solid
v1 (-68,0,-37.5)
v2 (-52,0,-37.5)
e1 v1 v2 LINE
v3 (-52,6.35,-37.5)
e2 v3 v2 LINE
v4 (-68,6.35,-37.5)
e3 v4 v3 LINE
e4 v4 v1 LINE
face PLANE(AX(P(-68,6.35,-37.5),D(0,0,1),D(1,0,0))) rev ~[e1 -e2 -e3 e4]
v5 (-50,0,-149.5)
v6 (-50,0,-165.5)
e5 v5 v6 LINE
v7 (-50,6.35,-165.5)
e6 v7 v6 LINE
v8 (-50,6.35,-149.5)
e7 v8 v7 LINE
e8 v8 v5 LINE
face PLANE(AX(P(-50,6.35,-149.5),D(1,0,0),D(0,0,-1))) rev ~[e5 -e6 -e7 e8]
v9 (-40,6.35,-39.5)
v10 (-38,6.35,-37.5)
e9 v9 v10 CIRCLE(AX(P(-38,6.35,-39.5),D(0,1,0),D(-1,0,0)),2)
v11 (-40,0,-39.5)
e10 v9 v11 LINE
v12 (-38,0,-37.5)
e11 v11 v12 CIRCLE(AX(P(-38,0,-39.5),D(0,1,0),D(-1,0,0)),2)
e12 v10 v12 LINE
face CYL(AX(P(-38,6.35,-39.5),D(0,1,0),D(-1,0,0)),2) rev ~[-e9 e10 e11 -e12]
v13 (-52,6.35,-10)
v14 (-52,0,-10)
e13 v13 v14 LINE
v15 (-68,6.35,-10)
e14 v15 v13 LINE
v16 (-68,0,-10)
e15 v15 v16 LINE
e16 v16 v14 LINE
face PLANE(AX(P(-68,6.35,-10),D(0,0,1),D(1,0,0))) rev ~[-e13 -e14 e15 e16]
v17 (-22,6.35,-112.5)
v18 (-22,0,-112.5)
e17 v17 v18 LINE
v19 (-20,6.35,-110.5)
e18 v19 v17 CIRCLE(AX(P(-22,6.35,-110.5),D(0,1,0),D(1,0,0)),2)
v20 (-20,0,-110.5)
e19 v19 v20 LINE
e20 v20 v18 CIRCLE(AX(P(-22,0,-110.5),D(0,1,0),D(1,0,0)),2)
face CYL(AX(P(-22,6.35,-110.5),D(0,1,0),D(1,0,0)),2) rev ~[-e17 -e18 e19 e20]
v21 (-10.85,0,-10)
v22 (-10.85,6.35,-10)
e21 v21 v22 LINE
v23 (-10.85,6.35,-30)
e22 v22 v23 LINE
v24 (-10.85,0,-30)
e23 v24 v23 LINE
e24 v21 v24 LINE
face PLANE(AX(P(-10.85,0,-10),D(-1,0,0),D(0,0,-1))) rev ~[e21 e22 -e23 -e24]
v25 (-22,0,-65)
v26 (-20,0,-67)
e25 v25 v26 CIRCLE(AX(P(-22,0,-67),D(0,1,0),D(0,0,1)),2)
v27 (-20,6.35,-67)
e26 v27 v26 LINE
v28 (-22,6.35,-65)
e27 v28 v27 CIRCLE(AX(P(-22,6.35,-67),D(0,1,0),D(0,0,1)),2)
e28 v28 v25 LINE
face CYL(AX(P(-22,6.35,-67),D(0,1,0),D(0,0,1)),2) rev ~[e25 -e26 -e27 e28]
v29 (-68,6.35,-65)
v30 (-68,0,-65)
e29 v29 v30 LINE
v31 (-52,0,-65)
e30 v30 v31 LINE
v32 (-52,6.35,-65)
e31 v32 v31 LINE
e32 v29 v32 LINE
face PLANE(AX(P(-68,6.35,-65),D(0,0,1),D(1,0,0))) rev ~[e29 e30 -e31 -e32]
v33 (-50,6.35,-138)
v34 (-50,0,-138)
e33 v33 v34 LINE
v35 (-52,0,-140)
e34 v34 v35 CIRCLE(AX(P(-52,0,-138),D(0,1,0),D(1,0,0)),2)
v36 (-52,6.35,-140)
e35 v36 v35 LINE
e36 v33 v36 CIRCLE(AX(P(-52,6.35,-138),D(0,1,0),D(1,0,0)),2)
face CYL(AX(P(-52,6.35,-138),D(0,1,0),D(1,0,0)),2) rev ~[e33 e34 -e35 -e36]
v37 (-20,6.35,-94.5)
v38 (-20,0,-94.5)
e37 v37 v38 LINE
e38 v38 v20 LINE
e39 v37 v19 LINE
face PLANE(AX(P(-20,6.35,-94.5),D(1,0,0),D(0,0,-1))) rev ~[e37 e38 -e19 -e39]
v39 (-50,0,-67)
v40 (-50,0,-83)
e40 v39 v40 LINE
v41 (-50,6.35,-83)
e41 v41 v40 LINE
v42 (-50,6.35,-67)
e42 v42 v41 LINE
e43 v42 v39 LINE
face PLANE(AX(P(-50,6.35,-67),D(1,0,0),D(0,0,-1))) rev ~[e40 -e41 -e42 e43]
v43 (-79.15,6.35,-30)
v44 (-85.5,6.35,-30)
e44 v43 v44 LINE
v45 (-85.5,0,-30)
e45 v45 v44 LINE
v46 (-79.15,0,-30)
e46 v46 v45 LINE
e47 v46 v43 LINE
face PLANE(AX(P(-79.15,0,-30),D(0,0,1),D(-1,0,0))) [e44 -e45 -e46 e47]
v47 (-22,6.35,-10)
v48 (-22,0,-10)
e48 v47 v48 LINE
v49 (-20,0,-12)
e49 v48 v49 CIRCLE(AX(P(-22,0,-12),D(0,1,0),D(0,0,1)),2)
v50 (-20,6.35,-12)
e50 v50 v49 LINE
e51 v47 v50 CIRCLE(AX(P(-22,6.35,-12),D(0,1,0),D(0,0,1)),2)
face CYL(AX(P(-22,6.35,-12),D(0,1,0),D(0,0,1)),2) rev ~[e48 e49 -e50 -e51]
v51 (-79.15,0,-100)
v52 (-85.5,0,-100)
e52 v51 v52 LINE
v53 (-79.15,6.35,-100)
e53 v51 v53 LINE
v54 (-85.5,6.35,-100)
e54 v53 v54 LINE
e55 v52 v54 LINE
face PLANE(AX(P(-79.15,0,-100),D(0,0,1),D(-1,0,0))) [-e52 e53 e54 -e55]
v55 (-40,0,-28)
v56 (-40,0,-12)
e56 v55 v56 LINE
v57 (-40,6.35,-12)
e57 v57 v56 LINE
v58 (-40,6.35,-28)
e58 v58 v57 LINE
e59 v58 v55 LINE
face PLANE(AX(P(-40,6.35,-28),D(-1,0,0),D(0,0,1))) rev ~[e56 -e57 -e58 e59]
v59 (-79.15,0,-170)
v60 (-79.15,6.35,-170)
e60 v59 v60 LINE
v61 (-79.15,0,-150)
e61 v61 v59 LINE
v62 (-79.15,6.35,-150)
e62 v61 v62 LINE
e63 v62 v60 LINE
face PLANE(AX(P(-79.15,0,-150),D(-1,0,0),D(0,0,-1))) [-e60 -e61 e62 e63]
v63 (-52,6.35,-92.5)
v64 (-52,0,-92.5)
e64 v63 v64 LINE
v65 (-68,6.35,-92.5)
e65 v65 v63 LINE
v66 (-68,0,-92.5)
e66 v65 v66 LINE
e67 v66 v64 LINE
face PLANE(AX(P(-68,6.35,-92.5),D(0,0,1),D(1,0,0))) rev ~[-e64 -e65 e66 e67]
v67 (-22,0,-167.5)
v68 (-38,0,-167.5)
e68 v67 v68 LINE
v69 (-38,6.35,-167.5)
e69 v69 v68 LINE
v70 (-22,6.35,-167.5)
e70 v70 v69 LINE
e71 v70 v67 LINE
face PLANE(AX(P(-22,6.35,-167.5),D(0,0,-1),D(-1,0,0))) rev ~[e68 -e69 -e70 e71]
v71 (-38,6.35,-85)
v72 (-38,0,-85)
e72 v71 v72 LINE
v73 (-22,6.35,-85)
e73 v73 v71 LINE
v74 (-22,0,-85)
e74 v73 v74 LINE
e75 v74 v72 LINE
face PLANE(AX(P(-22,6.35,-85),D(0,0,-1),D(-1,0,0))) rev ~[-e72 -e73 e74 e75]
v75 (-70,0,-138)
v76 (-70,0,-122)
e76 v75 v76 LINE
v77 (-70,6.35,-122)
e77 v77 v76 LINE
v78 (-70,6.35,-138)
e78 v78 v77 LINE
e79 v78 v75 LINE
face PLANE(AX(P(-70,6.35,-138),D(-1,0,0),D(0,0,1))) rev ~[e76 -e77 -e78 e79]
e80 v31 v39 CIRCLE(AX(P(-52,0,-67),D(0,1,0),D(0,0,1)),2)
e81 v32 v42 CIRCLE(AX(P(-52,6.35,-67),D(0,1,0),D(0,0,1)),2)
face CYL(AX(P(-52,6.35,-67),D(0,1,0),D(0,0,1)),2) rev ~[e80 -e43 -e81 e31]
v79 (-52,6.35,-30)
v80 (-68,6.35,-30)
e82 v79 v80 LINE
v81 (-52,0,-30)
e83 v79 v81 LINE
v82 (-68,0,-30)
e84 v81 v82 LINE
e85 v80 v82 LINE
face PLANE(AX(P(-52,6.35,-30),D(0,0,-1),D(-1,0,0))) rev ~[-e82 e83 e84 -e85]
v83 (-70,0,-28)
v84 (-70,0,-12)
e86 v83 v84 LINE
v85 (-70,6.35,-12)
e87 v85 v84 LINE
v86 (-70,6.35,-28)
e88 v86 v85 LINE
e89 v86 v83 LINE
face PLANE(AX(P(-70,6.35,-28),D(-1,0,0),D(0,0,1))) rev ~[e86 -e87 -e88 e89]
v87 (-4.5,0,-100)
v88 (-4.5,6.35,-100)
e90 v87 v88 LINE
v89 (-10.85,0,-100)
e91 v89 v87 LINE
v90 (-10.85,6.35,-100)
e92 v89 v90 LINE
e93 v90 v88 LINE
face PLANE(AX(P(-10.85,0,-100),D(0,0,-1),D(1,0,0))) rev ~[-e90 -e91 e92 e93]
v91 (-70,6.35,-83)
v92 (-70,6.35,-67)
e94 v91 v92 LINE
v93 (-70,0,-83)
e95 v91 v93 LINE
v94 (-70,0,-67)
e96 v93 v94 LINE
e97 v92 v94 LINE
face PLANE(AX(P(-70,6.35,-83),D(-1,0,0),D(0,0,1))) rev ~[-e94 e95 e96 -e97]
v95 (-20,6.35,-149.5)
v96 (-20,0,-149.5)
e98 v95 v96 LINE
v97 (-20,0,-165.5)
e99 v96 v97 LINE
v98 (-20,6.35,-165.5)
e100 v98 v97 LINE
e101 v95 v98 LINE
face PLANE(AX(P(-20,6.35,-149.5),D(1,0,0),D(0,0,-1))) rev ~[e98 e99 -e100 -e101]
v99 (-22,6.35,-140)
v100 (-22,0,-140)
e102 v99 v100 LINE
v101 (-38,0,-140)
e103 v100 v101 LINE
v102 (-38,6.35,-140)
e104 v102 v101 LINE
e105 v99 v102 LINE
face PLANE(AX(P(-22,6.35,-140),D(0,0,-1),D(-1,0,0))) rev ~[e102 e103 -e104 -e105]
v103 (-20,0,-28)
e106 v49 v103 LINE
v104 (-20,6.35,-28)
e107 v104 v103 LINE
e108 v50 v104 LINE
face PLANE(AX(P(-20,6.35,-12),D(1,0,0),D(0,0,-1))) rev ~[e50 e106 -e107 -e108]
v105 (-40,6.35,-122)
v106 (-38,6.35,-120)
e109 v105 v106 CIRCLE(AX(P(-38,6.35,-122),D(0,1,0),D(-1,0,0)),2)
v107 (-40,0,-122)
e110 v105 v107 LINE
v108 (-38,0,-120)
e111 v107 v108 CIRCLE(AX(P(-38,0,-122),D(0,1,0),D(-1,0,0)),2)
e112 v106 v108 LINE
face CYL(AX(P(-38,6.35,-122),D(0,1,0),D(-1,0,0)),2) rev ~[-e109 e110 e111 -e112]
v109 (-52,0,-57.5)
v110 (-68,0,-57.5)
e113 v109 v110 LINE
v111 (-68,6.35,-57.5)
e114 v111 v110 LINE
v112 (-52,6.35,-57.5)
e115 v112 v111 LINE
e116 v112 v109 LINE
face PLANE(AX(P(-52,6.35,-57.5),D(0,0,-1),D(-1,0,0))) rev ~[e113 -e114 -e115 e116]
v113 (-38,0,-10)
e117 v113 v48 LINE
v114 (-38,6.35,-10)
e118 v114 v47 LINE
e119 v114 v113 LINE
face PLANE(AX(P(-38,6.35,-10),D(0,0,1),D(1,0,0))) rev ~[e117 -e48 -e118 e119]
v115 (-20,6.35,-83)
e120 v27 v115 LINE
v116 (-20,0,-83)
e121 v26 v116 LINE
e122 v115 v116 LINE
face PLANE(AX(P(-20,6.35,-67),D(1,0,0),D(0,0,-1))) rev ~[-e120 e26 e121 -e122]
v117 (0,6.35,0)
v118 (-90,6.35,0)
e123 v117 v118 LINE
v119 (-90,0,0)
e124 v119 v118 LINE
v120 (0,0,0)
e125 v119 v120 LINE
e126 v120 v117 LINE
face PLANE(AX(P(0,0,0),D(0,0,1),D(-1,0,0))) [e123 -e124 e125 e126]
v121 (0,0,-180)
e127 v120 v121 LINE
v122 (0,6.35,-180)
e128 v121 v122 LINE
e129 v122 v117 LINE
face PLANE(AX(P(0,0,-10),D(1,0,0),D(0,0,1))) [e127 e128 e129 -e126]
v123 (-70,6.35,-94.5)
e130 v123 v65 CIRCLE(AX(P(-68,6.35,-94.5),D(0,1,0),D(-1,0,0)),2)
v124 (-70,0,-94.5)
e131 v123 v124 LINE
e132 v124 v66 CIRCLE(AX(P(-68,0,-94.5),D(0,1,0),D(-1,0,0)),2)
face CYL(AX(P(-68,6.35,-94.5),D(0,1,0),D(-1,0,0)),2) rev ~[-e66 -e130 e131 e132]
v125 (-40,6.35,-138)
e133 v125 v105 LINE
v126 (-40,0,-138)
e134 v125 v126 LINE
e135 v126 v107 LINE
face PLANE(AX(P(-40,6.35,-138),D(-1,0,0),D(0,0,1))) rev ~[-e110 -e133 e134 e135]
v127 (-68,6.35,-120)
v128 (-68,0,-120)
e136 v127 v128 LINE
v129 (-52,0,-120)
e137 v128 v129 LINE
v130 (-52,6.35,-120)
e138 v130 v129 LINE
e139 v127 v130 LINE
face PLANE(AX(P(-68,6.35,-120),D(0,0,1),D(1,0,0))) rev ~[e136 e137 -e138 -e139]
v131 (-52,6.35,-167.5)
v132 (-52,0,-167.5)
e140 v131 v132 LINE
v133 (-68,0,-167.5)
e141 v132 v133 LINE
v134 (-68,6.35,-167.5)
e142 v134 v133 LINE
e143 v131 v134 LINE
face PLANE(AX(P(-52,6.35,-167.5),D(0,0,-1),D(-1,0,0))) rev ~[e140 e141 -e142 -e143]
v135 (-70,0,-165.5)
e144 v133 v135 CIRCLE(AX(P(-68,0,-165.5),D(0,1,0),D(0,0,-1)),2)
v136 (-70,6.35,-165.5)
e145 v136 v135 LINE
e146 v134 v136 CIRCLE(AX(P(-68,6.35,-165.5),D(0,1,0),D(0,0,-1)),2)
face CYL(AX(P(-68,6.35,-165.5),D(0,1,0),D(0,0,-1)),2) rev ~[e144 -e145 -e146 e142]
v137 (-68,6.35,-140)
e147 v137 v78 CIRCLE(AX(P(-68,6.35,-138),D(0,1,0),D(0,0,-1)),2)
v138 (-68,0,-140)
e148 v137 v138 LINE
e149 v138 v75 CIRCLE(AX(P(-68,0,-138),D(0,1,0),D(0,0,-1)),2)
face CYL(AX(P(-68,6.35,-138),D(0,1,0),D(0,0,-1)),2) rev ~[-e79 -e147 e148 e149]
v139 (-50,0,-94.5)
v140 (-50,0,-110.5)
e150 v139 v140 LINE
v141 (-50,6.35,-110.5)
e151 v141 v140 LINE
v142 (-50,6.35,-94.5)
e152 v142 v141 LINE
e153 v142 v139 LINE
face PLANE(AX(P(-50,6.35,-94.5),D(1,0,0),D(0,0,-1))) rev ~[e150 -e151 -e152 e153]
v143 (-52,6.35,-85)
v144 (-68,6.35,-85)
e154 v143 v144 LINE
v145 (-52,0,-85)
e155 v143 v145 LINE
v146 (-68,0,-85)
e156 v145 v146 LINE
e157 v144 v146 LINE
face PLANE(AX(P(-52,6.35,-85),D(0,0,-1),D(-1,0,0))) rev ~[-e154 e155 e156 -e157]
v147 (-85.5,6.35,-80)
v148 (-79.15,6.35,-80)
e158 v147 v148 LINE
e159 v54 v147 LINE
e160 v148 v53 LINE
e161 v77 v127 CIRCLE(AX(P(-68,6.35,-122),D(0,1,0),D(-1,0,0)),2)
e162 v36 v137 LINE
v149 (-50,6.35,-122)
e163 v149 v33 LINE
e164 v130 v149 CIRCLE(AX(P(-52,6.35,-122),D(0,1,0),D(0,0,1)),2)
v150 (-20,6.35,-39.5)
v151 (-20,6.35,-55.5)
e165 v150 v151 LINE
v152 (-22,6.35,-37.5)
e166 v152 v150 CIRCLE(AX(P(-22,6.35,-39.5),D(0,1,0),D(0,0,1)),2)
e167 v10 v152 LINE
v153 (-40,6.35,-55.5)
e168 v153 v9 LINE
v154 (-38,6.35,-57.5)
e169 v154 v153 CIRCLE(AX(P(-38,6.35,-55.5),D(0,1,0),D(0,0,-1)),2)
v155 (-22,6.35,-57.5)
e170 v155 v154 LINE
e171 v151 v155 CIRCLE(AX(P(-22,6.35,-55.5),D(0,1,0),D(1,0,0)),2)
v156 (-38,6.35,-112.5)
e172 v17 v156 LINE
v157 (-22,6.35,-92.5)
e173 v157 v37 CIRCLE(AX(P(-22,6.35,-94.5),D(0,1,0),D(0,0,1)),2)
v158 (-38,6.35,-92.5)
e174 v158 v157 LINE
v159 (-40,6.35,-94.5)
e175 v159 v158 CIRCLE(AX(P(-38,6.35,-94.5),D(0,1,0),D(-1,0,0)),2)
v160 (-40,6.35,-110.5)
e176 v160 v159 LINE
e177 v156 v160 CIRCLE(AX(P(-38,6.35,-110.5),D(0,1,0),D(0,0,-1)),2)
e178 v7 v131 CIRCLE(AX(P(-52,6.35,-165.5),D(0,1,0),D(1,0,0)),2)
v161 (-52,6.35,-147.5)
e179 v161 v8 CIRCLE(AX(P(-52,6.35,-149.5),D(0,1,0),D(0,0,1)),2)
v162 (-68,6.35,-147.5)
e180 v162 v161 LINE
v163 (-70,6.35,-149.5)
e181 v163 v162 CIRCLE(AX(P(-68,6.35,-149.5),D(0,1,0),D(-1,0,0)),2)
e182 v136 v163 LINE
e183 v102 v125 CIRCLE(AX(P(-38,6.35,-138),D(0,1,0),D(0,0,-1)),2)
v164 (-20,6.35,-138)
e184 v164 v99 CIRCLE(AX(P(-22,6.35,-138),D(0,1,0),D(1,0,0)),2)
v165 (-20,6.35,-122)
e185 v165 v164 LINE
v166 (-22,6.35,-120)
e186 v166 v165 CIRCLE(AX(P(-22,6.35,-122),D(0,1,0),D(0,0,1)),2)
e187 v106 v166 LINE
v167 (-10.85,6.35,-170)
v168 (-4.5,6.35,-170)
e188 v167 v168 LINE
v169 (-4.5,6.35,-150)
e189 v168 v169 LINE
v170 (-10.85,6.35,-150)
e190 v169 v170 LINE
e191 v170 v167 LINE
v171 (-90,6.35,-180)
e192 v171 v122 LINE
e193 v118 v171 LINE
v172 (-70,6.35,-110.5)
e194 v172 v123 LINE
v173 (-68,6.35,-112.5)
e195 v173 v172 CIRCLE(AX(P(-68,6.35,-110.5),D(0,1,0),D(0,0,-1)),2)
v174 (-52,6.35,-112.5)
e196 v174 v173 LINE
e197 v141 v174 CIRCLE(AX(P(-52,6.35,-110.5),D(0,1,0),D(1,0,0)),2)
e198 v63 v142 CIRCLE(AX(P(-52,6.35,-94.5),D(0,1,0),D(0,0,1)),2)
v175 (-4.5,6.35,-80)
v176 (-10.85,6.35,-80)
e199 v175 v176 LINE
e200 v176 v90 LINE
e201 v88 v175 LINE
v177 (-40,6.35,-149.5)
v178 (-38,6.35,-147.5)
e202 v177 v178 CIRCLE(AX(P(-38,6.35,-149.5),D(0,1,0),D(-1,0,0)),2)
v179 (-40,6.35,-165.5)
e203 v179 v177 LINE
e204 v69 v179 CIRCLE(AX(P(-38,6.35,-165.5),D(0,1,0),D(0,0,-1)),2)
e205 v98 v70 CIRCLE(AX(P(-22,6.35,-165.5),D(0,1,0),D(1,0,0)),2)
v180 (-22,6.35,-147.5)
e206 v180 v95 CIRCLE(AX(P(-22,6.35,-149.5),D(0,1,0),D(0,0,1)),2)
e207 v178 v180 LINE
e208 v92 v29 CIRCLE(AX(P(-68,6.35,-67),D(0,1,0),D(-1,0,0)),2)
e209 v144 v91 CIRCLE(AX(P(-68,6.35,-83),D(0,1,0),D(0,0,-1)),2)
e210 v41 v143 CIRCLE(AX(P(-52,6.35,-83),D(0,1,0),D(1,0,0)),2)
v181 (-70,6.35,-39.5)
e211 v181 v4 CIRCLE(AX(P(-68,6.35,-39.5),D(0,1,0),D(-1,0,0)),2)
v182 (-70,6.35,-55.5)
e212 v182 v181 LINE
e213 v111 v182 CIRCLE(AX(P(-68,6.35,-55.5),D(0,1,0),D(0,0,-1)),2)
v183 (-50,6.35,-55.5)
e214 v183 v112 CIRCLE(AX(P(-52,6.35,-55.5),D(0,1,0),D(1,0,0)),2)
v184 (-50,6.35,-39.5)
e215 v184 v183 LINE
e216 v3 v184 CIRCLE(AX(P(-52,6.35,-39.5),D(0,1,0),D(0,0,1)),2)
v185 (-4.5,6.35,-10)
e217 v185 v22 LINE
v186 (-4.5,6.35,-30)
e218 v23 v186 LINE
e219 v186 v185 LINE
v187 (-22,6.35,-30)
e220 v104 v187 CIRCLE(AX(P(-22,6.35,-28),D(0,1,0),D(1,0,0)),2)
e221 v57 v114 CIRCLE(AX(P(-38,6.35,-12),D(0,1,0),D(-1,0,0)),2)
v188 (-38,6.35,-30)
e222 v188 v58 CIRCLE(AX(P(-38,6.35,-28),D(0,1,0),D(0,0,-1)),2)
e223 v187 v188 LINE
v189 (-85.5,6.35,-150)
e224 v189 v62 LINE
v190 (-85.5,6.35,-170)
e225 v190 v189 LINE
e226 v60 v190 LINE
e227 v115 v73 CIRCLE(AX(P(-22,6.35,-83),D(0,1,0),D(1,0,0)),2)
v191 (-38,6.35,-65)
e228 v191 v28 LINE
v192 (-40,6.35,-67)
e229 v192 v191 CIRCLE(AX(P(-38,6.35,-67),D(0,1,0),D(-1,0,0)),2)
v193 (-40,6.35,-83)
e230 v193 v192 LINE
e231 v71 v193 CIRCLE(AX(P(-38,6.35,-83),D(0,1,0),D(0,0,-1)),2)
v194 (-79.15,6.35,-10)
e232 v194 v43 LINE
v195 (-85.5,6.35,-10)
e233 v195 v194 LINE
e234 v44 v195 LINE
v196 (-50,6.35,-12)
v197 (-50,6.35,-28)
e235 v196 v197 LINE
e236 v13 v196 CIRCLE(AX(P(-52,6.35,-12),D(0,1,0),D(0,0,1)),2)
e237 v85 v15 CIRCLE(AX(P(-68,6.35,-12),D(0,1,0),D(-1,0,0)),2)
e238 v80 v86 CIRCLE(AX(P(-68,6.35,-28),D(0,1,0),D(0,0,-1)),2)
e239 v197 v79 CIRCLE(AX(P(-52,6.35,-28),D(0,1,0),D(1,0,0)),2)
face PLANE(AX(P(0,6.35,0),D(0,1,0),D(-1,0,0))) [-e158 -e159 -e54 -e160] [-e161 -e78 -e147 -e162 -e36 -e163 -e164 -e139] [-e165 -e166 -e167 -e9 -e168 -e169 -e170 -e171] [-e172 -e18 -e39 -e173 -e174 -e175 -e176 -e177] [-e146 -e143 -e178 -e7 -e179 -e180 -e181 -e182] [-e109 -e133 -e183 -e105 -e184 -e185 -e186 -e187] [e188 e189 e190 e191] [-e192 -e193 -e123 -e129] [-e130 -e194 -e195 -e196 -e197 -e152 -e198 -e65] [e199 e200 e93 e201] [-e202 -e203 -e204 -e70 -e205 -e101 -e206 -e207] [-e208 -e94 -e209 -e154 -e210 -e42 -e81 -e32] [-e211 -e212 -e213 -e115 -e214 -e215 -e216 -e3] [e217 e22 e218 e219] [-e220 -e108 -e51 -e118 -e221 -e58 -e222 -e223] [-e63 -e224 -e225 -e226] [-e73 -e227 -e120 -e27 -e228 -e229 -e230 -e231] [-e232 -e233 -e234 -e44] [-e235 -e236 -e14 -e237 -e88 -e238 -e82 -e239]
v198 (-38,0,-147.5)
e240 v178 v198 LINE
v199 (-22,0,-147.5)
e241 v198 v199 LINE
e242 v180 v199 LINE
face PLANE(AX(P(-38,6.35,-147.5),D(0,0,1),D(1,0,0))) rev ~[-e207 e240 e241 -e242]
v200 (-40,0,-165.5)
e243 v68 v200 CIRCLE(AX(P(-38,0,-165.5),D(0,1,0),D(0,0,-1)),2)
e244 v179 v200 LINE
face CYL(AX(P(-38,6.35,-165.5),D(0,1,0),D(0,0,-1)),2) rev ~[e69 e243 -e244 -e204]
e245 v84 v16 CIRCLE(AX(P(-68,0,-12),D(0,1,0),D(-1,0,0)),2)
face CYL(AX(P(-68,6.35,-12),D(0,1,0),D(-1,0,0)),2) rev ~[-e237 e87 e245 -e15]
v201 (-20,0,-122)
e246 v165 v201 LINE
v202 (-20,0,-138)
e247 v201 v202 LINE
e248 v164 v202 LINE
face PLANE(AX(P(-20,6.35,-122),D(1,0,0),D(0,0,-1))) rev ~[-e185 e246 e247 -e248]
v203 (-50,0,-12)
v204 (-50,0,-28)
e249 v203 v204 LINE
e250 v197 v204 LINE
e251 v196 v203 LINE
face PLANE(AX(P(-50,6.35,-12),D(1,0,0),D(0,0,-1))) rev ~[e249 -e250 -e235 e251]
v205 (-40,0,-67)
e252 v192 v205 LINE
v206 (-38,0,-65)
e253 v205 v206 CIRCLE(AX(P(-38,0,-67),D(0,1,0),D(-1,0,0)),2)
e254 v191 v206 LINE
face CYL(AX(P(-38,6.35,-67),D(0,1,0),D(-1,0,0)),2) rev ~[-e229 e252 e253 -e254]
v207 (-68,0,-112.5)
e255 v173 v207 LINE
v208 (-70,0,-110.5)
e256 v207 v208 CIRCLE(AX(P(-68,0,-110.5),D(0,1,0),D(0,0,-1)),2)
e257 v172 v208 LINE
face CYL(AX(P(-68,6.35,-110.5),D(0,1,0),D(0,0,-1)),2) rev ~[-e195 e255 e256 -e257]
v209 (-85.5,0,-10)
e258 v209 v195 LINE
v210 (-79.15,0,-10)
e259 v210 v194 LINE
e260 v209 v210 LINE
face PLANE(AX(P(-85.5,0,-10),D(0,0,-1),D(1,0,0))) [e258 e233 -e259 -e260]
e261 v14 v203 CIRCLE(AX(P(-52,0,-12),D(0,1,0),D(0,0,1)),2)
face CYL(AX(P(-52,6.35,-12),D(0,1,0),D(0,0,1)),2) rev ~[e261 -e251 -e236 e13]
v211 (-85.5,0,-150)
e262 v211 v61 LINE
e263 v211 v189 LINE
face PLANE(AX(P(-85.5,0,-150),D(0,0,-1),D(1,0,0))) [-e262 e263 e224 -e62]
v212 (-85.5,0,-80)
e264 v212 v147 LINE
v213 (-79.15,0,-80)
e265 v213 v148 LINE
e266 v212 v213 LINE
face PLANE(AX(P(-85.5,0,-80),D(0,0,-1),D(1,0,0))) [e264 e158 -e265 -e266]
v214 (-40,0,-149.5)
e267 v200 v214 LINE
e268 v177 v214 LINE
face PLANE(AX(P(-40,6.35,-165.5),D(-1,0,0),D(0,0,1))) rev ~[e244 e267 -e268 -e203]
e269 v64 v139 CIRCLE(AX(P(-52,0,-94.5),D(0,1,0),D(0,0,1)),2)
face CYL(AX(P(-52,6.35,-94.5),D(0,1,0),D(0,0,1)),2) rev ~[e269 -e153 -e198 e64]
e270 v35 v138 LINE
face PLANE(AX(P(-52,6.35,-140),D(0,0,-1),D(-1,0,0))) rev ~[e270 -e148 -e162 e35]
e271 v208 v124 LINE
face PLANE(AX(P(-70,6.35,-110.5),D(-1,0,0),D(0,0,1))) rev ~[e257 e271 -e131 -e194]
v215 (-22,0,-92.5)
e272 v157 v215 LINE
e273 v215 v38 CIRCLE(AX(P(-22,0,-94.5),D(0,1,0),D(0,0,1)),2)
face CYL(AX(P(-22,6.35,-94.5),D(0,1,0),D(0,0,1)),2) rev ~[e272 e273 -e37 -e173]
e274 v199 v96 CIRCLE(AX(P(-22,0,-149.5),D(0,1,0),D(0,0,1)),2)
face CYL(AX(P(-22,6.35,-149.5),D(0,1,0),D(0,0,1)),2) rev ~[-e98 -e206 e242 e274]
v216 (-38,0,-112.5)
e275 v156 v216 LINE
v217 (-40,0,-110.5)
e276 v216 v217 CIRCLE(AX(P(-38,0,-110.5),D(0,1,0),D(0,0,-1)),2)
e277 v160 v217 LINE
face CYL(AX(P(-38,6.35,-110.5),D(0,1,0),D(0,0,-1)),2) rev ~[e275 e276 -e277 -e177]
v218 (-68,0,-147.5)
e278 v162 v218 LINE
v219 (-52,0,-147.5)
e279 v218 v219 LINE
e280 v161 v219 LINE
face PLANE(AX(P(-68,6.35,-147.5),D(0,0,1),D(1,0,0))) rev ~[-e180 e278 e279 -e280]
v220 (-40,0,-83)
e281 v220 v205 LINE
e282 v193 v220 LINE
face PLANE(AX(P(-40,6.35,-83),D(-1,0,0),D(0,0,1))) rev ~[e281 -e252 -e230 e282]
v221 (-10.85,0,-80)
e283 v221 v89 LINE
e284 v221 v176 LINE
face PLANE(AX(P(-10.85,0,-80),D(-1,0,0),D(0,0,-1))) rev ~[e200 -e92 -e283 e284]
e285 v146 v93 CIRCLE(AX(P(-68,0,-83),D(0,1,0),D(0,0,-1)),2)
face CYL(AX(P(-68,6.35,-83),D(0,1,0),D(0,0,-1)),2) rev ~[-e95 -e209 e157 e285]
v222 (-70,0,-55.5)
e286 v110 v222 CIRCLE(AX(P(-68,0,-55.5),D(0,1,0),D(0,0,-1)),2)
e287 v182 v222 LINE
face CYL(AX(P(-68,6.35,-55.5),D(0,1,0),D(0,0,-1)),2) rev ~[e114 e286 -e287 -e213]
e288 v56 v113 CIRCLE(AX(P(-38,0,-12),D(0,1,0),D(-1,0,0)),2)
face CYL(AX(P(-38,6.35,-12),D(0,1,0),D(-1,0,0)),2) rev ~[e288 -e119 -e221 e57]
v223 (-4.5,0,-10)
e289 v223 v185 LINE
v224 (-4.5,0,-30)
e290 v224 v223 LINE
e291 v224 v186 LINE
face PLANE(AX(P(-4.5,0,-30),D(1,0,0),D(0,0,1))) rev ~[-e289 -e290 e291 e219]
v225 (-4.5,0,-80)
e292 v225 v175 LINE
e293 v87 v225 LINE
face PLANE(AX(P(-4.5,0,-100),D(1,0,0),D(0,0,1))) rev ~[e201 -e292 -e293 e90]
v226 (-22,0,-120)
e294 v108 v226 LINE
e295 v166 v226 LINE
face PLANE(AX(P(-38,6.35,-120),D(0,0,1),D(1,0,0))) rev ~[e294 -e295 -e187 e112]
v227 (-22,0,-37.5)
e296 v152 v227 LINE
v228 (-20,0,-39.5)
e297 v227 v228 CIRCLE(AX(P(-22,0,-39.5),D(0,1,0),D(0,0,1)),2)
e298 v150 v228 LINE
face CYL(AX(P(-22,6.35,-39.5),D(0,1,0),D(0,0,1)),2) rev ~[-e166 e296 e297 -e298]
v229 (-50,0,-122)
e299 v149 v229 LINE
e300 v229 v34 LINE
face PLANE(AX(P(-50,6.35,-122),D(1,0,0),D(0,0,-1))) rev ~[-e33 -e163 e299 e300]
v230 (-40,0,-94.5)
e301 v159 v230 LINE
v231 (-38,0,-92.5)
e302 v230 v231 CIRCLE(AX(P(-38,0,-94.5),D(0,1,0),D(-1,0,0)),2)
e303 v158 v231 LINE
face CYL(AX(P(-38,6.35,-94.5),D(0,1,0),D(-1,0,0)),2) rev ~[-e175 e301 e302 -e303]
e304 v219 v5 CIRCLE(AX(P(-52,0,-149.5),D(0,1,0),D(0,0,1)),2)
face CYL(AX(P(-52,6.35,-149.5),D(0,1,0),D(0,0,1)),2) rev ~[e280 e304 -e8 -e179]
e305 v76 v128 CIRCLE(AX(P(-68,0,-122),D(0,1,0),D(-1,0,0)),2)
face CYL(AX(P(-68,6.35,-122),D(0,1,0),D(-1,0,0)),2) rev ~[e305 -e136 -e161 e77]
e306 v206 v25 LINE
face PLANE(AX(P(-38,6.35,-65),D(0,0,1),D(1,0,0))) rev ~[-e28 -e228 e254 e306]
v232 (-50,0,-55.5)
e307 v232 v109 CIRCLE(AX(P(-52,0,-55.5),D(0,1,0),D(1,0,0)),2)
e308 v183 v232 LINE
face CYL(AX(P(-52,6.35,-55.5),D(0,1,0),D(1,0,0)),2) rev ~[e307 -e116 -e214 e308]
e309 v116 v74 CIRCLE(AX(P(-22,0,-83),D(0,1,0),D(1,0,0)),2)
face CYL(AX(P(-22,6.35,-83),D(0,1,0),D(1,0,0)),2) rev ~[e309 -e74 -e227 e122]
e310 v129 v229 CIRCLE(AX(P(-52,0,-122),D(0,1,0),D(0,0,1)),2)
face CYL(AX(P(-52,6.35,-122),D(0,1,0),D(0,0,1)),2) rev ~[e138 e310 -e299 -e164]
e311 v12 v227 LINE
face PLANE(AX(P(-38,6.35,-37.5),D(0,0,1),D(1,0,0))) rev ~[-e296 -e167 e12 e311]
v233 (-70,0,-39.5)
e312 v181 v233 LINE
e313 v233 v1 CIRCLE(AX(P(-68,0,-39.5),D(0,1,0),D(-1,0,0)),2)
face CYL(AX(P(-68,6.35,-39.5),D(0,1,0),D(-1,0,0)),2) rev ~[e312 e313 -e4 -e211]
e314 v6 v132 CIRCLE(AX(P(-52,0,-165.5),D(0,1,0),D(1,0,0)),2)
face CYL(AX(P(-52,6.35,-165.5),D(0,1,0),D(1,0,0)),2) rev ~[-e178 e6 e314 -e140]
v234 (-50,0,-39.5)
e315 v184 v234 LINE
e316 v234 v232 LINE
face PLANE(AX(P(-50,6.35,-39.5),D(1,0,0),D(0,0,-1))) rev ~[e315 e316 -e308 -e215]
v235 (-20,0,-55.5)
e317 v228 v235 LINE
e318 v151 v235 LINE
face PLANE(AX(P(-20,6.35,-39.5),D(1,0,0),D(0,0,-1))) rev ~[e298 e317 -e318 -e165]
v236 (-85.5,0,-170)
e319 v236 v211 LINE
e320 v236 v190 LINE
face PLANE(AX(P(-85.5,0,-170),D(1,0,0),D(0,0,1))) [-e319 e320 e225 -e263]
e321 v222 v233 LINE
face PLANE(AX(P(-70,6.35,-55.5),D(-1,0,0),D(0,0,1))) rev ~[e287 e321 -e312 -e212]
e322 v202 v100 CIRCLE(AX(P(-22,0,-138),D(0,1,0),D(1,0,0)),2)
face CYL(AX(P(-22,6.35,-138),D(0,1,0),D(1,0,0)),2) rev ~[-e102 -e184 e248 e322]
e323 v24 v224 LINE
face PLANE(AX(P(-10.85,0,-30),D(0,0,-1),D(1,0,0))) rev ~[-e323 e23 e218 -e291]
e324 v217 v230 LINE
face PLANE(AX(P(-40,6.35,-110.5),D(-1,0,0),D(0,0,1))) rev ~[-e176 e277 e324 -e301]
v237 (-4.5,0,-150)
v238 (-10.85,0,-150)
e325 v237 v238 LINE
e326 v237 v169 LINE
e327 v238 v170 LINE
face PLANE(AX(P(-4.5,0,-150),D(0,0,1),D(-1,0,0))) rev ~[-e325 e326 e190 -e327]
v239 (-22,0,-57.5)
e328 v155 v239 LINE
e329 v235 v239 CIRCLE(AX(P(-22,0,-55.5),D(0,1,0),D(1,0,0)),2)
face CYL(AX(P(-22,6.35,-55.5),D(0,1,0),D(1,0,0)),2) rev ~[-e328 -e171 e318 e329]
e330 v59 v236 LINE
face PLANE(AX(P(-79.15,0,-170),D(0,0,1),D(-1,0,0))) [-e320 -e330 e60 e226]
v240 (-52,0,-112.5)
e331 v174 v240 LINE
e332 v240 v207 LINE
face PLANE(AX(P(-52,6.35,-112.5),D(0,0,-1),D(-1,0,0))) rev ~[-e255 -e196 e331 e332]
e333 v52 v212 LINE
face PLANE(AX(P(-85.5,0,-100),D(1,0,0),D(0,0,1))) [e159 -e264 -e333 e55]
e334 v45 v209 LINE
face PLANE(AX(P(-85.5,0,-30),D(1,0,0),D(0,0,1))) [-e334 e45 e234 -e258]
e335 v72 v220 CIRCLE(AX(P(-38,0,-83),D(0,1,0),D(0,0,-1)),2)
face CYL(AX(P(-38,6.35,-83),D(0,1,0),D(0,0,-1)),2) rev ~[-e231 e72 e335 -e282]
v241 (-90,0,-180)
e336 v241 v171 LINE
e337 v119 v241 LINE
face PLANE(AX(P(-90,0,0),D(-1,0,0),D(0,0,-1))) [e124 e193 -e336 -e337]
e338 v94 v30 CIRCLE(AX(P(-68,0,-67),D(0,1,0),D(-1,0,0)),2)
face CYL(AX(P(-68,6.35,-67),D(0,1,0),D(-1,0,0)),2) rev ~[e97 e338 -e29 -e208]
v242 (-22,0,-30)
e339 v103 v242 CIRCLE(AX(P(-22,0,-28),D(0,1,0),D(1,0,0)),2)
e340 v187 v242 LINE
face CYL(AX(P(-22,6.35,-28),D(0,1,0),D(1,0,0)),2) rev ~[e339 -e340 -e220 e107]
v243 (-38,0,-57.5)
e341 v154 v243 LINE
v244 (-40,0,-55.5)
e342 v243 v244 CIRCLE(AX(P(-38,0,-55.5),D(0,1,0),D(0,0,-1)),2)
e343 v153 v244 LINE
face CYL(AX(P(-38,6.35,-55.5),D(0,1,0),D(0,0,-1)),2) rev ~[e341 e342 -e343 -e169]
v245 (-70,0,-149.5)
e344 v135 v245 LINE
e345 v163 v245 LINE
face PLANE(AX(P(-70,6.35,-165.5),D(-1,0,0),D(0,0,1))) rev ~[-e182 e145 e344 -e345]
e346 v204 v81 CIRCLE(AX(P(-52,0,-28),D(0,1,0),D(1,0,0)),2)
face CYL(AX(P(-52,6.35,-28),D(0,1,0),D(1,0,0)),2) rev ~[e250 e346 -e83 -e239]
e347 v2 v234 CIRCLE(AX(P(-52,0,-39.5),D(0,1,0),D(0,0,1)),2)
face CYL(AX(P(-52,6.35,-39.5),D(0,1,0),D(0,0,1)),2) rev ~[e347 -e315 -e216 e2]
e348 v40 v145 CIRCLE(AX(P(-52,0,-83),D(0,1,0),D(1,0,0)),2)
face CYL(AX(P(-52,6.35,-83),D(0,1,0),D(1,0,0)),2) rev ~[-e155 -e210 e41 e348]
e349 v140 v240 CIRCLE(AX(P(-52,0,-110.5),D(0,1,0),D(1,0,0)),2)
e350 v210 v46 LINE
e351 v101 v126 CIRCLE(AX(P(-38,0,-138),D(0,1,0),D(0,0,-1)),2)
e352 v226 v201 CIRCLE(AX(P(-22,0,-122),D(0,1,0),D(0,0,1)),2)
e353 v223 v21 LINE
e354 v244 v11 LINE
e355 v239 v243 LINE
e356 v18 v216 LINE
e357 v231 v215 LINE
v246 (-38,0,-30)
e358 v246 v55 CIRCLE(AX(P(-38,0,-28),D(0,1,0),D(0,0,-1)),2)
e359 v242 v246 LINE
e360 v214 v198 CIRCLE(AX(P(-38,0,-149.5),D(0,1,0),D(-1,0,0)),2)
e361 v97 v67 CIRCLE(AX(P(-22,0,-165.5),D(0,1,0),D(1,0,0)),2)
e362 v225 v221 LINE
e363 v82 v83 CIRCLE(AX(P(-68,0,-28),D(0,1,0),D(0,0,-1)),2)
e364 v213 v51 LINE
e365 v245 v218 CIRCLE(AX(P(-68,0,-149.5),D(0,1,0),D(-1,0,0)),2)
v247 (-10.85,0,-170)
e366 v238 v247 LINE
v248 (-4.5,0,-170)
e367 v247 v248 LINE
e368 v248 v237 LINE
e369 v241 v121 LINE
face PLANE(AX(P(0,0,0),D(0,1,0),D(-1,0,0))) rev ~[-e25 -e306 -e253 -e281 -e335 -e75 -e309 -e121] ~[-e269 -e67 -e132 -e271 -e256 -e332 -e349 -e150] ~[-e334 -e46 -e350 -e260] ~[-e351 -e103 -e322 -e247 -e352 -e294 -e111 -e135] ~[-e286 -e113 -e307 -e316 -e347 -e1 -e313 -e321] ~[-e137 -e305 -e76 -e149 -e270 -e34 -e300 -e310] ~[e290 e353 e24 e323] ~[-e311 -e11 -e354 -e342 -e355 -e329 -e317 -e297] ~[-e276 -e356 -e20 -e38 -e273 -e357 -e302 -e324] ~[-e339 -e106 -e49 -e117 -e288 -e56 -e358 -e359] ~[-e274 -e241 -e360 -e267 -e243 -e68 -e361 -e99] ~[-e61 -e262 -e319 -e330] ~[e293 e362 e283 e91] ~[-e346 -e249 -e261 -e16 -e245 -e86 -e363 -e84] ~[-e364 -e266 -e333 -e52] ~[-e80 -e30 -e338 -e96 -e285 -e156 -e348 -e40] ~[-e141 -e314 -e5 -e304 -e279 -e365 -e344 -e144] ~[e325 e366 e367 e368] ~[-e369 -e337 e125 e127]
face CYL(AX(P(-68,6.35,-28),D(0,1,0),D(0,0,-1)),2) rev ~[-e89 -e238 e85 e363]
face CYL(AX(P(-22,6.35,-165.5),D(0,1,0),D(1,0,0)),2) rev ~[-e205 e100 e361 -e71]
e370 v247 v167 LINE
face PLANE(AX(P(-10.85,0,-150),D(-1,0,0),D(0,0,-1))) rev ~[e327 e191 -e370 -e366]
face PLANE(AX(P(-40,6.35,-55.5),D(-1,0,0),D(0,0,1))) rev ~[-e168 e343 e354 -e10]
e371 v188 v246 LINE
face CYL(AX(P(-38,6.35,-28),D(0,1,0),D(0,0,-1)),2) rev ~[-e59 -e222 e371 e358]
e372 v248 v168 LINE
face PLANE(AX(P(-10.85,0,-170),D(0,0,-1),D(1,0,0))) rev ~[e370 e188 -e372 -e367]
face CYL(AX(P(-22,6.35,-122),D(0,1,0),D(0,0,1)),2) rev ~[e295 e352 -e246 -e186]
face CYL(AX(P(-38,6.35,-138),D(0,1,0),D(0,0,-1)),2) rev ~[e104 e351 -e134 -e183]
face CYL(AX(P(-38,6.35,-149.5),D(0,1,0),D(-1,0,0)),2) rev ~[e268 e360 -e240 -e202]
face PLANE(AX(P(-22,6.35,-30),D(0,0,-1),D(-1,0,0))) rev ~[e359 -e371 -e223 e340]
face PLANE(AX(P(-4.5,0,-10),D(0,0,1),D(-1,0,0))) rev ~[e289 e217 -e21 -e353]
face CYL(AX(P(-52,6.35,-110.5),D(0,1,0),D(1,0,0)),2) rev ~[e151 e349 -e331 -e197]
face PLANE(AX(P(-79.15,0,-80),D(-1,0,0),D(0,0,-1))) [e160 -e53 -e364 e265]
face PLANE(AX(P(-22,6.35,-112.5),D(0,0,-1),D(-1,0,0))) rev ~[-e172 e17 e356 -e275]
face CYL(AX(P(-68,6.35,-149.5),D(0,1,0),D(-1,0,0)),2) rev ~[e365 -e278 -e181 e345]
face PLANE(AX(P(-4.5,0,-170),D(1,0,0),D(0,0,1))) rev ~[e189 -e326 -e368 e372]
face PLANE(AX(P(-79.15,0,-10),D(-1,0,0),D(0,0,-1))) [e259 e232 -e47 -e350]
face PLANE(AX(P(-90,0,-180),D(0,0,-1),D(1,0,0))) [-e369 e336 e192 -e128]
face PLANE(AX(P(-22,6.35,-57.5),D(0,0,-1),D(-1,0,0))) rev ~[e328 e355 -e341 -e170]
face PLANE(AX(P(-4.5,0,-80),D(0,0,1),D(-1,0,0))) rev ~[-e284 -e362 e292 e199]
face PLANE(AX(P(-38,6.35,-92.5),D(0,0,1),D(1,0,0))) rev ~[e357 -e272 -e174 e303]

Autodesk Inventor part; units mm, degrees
ref_plane "YZ Plane" through (0, 0, 0) normal (1, 0, 0) x (0, 1, 0)
ref_plane "XZ Plane" through (0, 0, 0) normal (0, 1, 0) x (-1, 0, 0)
ref_plane "XY Plane" through (0, 0, 0) normal (0, 0, 1) x (1, 0, 0)
sketch "Sketch1" plane through (0, 0, 0) normal (0, 1, 0) x (-1, 0, 0)
  line L0 (0, 0) -> (90, 0)
  line L1 (90, 0) -> (90, -180)
  line L2 (90, -180) -> (0, -180)
  line L3 (0, -180) -> (0, 0)
  line L4 (0, 0) -> (4.5, 0)
  line L5 (4.5, 0) -> (4.5, -10) construction
  line L6 (4.5, -10) -> (0, -10) construction
  line L7 (0, -10) -> (0, 0)
  line L8 (4.5, -10) -> (10.85, -10)
  line L9 (10.85, -10) -> (10.85, -30)
  line L10 (10.85, -30) -> (4.5, -30)
  line L11 (4.5, -30) -> (4.5, -10)
  line L12 (4.5, -80) -> (10.85, -80)
  line L13 (10.85, -80) -> (10.85, -100)
  line L14 (10.85, -100) -> (4.5, -100)
  line L15 (4.5, -100) -> (4.5, -80)
  line L16 (4.5, -150) -> (10.85, -150)
  line L17 (10.85, -150) -> (10.85, -170)
  line L18 (10.85, -170) -> (4.5, -170)
  line L19 (4.5, -170) -> (4.5, -150)
  line L20 (45, 0) -> (45, -180) construction
  line L21 (85.5, -10) -> (79.15, -10)
  line L22 (79.15, -10) -> (79.15, -30)
  line L23 (79.15, -30) -> (85.5, -30)
  line L24 (85.5, -30) -> (85.5, -10)
  line L25 (85.5, -80) -> (79.15, -80)
  line L26 (79.15, -80) -> (79.15, -100)
  line L27 (79.15, -100) -> (85.5, -100)
  line L28 (85.5, -100) -> (85.5, -80)
  line L29 (85.5, -150) -> (79.15, -150)
  line L30 (79.15, -150) -> (79.15, -170)
  line L31 (79.15, -170) -> (85.5, -170)
  line L32 (85.5, -170) -> (85.5, -150)
  dimension "d0" = 90
  dimension "d1" = 180
  dimension "d2" = 4.5
  dimension "d3" = 10
  dimension "d4" = 6.35
  dimension "d5" = 20
  dimension "d8" = 70
extrude "Extrusion1" add sketch "Sketch1" along normal blind 6.35
sketch "Sketch2" plane through (0, 6.35, 0) normal (0, 1, 0) x (1, 0, 0)
  line L0 (-90, 180) -> (-90, 0) construction
  line L1 (-90, 0) -> (-70, 0) construction
  line L2 (-70, 0) -> (-70, 10) construction
  line L3 (-70, 10) -> (-90, 10) construction
  line L4 (-90, 10) -> (-90, 0) construction
  line L5 (-68, 10) -> (-52, 10)
  line L6 (-50, 12) -> (-50, 28)
  line L7 (-52, 30) -> (-68, 30)
  line L8 (-70, 28) -> (-70, 12)
  arc A0 (-68, 30) -> (-70, 28) centre (-68, 28) ccw
  arc A1 (-52, 10) -> (-50, 12) centre (-52, 12) ccw
  arc A2 (-50, 28) -> (-52, 30) centre (-52, 28) ccw
  arc A3 (-70, 12) -> (-68, 10) centre (-68, 12) ccw
  arc A4 (-70, 39.5) -> (-68, 37.5) centre (-68, 39.5) ccw
  arc A5 (-52, 37.5) -> (-50, 39.5) centre (-52, 39.5) ccw
  line L9 (-70, 55.5) -> (-70, 39.5)
  line L10 (-52, 57.5) -> (-68, 57.5)
  arc A6 (-68, 57.5) -> (-70, 55.5) centre (-68, 55.5) ccw
  arc A7 (-50, 55.5) -> (-52, 57.5) centre (-52, 55.5) ccw
  line L11 (-50, 39.5) -> (-50, 55.5)
  line L12 (-68, 37.5) -> (-52, 37.5)
  arc A8 (-70, 67) -> (-68, 65) centre (-68, 67) ccw
  arc A9 (-52, 65) -> (-50, 67) centre (-52, 67) ccw
  line L13 (-70, 83) -> (-70, 67)
  line L14 (-52, 85) -> (-68, 85)
  arc A10 (-68, 85) -> (-70, 83) centre (-68, 83) ccw
  arc A11 (-50, 83) -> (-52, 85) centre (-52, 83) ccw
  line L15 (-50, 67) -> (-50, 83)
  line L16 (-68, 65) -> (-52, 65)
  arc A12 (-70, 94.5) -> (-68, 92.5) centre (-68, 94.5) ccw
  arc A13 (-52, 92.5) -> (-50, 94.5) centre (-52, 94.5) ccw
  line L17 (-70, 110.5) -> (-70, 94.5)
  line L18 (-52, 112.5) -> (-68, 112.5)
  arc A14 (-68, 112.5) -> (-70, 110.5) centre (-68, 110.5) ccw
  arc A15 (-50, 110.5) -> (-52, 112.5) centre (-52, 110.5) ccw
  line L19 (-50, 94.5) -> (-50, 110.5)
  line L20 (-68, 92.5) -> (-52, 92.5)
  arc A16 (-40, 12) -> (-38, 10) centre (-38, 12) ccw
  arc A17 (-22, 10) -> (-20, 12) centre (-22, 12) ccw
  line L21 (-40, 28) -> (-40, 12)
  line L22 (-22, 30) -> (-38, 30)
  arc A18 (-38, 30) -> (-40, 28) centre (-38, 28) ccw
  arc A19 (-20, 28) -> (-22, 30) centre (-22, 28) ccw
  line L23 (-20, 12) -> (-20, 28)
  line L24 (-38, 10) -> (-22, 10)
  arc A20 (-40, 39.5) -> (-38, 37.5) centre (-38, 39.5) ccw
  arc A21 (-22, 37.5) -> (-20, 39.5) centre (-22, 39.5) ccw
  line L25 (-40, 55.5) -> (-40, 39.5)
  line L26 (-22, 57.5) -> (-38, 57.5)
  arc A22 (-38, 57.5) -> (-40, 55.5) centre (-38, 55.5) ccw
  arc A23 (-20, 55.5) -> (-22, 57.5) centre (-22, 55.5) ccw
  line L27 (-20, 39.5) -> (-20, 55.5)
  line L28 (-38, 37.5) -> (-22, 37.5)
  arc A24 (-40, 67) -> (-38, 65) centre (-38, 67) ccw
  arc A25 (-22, 65) -> (-20, 67) centre (-22, 67) ccw
  line L29 (-40, 83) -> (-40, 67)
  line L30 (-22, 85) -> (-38, 85)
  arc A26 (-38, 85) -> (-40, 83) centre (-38, 83) ccw
  arc A27 (-20, 83) -> (-22, 85) centre (-22, 83) ccw
  line L31 (-20, 67) -> (-20, 83)
  line L32 (-38, 65) -> (-22, 65)
  arc A28 (-40, 94.5) -> (-38, 92.5) centre (-38, 94.5) ccw
  arc A29 (-22, 92.5) -> (-20, 94.5) centre (-22, 94.5) ccw
  line L33 (-40, 110.5) -> (-40, 94.5)
  line L34 (-22, 112.5) -> (-38, 112.5)
  arc A30 (-38, 112.5) -> (-40, 110.5) centre (-38, 110.5) ccw
  arc A31 (-20, 110.5) -> (-22, 112.5) centre (-22, 110.5) ccw
  line L35 (-20, 94.5) -> (-20, 110.5)
  line L36 (-38, 92.5) -> (-22, 92.5)
  arc A32 (-70, 122) -> (-68, 120) centre (-68, 122) ccw
  arc A33 (-52, 120) -> (-50, 122) centre (-52, 122) ccw
  line L37 (-70, 138) -> (-70, 122)
  line L38 (-52, 140) -> (-68, 140)
  arc A34 (-68, 140) -> (-70, 138) centre (-68, 138) ccw
  arc A35 (-50, 138) -> (-52, 140) centre (-52, 138) ccw
  line L39 (-50, 122) -> (-50, 138)
  line L40 (-68, 120) -> (-52, 120)
  arc A36 (-40, 122) -> (-38, 120) centre (-38, 122) ccw
  arc A37 (-22, 120) -> (-20, 122) centre (-22, 122) ccw
  line L41 (-40, 138) -> (-40, 122)
  line L42 (-22, 140) -> (-38, 140)
  arc A38 (-38, 140) -> (-40, 138) centre (-38, 138) ccw
  arc A39 (-20, 138) -> (-22, 140) centre (-22, 138) ccw
  line L43 (-20, 122) -> (-20, 138)
  line L44 (-38, 120) -> (-22, 120)
  arc A40 (-70, 149.5) -> (-68, 147.5) centre (-68, 149.5) ccw
  arc A41 (-52, 147.5) -> (-50, 149.5) centre (-52, 149.5) ccw
  line L45 (-70, 165.5) -> (-70, 149.5)
  line L46 (-52, 167.5) -> (-68, 167.5)
  arc A42 (-68, 167.5) -> (-70, 165.5) centre (-68, 165.5) ccw
  arc A43 (-50, 165.5) -> (-52, 167.5) centre (-52, 165.5) ccw
  line L47 (-50, 149.5) -> (-50, 165.5)
  line L48 (-68, 147.5) -> (-52, 147.5)
  arc A44 (-40, 149.5) -> (-38, 147.5) centre (-38, 149.5) ccw
  arc A45 (-22, 147.5) -> (-20, 149.5) centre (-22, 149.5) ccw
  line L49 (-40, 165.5) -> (-40, 149.5)
  line L50 (-22, 167.5) -> (-38, 167.5)
  arc A46 (-38, 167.5) -> (-40, 165.5) centre (-38, 165.5) ccw
  arc A47 (-20, 165.5) -> (-22, 167.5) centre (-22, 165.5) ccw
  line L51 (-20, 149.5) -> (-20, 165.5)
  line L52 (-38, 147.5) -> (-22, 147.5)
  point P0 (0, 0)
  point P1 (-50, 30)
  point P2 (-50, 10)
  point P3 (-70, 30)
  point P4 (-50, 37.5)
  point P5 (-70, 57.5)
  point P6 (-70, 37.5)
  point P7 (-50, 57.5)
  point P8 (-50, 65)
  point P9 (-70, 85)
  point P10 (-70, 65)
  point P11 (-50, 85)
  point P12 (-50, 92.5)
  point P13 (-70, 112.5)
  point P14 (-70, 92.5)
  point P15 (-50, 112.5)
  point P16 (-20, 10)
  point P17 (-40, 30)
  point P18 (-40, 10)
  point P19 (-20, 30)
  point P20 (-20, 37.5)
  point P21 (-40, 57.5)
  point P22 (-40, 37.5)
  point P23 (-20, 57.5)
  point P24 (-20, 65)
  point P25 (-40, 85)
  point P26 (-40, 65)
  point P27 (-20, 85)
  point P28 (-20, 92.5)
  point P29 (-40, 112.5)
  point P30 (-40, 92.5)
  point P31 (-20, 112.5)
  point P32 (-50, 120)
  point P33 (-70, 140)
  point P34 (-70, 120)
  point P35 (-50, 140)
  point P36 (-20, 120)
  point P37 (-40, 140)
  point P38 (-40, 120)
  point P39 (-20, 140)
  point P40 (-50, 147.5)
  point P41 (-70, 167.5)
  point P42 (-70, 147.5)
  point P43 (-50, 167.5)
  point P44 (-20, 147.5)
  point P45 (-40, 167.5)
  point P46 (-40, 147.5)
  point P47 (-20, 167.5)
  dimension "d15" = 20
  dimension "d16" = 10
  dimension "d17" = 20
  dimension "d18" = 20
  dimension "d19" = 2
  dimension "d22" = 27.5
  dimension "d25" = 30
extrude "Extrusion2" cut sketch "Sketch2" against normal blind 6.35
properties part number "Roof Skiba"
